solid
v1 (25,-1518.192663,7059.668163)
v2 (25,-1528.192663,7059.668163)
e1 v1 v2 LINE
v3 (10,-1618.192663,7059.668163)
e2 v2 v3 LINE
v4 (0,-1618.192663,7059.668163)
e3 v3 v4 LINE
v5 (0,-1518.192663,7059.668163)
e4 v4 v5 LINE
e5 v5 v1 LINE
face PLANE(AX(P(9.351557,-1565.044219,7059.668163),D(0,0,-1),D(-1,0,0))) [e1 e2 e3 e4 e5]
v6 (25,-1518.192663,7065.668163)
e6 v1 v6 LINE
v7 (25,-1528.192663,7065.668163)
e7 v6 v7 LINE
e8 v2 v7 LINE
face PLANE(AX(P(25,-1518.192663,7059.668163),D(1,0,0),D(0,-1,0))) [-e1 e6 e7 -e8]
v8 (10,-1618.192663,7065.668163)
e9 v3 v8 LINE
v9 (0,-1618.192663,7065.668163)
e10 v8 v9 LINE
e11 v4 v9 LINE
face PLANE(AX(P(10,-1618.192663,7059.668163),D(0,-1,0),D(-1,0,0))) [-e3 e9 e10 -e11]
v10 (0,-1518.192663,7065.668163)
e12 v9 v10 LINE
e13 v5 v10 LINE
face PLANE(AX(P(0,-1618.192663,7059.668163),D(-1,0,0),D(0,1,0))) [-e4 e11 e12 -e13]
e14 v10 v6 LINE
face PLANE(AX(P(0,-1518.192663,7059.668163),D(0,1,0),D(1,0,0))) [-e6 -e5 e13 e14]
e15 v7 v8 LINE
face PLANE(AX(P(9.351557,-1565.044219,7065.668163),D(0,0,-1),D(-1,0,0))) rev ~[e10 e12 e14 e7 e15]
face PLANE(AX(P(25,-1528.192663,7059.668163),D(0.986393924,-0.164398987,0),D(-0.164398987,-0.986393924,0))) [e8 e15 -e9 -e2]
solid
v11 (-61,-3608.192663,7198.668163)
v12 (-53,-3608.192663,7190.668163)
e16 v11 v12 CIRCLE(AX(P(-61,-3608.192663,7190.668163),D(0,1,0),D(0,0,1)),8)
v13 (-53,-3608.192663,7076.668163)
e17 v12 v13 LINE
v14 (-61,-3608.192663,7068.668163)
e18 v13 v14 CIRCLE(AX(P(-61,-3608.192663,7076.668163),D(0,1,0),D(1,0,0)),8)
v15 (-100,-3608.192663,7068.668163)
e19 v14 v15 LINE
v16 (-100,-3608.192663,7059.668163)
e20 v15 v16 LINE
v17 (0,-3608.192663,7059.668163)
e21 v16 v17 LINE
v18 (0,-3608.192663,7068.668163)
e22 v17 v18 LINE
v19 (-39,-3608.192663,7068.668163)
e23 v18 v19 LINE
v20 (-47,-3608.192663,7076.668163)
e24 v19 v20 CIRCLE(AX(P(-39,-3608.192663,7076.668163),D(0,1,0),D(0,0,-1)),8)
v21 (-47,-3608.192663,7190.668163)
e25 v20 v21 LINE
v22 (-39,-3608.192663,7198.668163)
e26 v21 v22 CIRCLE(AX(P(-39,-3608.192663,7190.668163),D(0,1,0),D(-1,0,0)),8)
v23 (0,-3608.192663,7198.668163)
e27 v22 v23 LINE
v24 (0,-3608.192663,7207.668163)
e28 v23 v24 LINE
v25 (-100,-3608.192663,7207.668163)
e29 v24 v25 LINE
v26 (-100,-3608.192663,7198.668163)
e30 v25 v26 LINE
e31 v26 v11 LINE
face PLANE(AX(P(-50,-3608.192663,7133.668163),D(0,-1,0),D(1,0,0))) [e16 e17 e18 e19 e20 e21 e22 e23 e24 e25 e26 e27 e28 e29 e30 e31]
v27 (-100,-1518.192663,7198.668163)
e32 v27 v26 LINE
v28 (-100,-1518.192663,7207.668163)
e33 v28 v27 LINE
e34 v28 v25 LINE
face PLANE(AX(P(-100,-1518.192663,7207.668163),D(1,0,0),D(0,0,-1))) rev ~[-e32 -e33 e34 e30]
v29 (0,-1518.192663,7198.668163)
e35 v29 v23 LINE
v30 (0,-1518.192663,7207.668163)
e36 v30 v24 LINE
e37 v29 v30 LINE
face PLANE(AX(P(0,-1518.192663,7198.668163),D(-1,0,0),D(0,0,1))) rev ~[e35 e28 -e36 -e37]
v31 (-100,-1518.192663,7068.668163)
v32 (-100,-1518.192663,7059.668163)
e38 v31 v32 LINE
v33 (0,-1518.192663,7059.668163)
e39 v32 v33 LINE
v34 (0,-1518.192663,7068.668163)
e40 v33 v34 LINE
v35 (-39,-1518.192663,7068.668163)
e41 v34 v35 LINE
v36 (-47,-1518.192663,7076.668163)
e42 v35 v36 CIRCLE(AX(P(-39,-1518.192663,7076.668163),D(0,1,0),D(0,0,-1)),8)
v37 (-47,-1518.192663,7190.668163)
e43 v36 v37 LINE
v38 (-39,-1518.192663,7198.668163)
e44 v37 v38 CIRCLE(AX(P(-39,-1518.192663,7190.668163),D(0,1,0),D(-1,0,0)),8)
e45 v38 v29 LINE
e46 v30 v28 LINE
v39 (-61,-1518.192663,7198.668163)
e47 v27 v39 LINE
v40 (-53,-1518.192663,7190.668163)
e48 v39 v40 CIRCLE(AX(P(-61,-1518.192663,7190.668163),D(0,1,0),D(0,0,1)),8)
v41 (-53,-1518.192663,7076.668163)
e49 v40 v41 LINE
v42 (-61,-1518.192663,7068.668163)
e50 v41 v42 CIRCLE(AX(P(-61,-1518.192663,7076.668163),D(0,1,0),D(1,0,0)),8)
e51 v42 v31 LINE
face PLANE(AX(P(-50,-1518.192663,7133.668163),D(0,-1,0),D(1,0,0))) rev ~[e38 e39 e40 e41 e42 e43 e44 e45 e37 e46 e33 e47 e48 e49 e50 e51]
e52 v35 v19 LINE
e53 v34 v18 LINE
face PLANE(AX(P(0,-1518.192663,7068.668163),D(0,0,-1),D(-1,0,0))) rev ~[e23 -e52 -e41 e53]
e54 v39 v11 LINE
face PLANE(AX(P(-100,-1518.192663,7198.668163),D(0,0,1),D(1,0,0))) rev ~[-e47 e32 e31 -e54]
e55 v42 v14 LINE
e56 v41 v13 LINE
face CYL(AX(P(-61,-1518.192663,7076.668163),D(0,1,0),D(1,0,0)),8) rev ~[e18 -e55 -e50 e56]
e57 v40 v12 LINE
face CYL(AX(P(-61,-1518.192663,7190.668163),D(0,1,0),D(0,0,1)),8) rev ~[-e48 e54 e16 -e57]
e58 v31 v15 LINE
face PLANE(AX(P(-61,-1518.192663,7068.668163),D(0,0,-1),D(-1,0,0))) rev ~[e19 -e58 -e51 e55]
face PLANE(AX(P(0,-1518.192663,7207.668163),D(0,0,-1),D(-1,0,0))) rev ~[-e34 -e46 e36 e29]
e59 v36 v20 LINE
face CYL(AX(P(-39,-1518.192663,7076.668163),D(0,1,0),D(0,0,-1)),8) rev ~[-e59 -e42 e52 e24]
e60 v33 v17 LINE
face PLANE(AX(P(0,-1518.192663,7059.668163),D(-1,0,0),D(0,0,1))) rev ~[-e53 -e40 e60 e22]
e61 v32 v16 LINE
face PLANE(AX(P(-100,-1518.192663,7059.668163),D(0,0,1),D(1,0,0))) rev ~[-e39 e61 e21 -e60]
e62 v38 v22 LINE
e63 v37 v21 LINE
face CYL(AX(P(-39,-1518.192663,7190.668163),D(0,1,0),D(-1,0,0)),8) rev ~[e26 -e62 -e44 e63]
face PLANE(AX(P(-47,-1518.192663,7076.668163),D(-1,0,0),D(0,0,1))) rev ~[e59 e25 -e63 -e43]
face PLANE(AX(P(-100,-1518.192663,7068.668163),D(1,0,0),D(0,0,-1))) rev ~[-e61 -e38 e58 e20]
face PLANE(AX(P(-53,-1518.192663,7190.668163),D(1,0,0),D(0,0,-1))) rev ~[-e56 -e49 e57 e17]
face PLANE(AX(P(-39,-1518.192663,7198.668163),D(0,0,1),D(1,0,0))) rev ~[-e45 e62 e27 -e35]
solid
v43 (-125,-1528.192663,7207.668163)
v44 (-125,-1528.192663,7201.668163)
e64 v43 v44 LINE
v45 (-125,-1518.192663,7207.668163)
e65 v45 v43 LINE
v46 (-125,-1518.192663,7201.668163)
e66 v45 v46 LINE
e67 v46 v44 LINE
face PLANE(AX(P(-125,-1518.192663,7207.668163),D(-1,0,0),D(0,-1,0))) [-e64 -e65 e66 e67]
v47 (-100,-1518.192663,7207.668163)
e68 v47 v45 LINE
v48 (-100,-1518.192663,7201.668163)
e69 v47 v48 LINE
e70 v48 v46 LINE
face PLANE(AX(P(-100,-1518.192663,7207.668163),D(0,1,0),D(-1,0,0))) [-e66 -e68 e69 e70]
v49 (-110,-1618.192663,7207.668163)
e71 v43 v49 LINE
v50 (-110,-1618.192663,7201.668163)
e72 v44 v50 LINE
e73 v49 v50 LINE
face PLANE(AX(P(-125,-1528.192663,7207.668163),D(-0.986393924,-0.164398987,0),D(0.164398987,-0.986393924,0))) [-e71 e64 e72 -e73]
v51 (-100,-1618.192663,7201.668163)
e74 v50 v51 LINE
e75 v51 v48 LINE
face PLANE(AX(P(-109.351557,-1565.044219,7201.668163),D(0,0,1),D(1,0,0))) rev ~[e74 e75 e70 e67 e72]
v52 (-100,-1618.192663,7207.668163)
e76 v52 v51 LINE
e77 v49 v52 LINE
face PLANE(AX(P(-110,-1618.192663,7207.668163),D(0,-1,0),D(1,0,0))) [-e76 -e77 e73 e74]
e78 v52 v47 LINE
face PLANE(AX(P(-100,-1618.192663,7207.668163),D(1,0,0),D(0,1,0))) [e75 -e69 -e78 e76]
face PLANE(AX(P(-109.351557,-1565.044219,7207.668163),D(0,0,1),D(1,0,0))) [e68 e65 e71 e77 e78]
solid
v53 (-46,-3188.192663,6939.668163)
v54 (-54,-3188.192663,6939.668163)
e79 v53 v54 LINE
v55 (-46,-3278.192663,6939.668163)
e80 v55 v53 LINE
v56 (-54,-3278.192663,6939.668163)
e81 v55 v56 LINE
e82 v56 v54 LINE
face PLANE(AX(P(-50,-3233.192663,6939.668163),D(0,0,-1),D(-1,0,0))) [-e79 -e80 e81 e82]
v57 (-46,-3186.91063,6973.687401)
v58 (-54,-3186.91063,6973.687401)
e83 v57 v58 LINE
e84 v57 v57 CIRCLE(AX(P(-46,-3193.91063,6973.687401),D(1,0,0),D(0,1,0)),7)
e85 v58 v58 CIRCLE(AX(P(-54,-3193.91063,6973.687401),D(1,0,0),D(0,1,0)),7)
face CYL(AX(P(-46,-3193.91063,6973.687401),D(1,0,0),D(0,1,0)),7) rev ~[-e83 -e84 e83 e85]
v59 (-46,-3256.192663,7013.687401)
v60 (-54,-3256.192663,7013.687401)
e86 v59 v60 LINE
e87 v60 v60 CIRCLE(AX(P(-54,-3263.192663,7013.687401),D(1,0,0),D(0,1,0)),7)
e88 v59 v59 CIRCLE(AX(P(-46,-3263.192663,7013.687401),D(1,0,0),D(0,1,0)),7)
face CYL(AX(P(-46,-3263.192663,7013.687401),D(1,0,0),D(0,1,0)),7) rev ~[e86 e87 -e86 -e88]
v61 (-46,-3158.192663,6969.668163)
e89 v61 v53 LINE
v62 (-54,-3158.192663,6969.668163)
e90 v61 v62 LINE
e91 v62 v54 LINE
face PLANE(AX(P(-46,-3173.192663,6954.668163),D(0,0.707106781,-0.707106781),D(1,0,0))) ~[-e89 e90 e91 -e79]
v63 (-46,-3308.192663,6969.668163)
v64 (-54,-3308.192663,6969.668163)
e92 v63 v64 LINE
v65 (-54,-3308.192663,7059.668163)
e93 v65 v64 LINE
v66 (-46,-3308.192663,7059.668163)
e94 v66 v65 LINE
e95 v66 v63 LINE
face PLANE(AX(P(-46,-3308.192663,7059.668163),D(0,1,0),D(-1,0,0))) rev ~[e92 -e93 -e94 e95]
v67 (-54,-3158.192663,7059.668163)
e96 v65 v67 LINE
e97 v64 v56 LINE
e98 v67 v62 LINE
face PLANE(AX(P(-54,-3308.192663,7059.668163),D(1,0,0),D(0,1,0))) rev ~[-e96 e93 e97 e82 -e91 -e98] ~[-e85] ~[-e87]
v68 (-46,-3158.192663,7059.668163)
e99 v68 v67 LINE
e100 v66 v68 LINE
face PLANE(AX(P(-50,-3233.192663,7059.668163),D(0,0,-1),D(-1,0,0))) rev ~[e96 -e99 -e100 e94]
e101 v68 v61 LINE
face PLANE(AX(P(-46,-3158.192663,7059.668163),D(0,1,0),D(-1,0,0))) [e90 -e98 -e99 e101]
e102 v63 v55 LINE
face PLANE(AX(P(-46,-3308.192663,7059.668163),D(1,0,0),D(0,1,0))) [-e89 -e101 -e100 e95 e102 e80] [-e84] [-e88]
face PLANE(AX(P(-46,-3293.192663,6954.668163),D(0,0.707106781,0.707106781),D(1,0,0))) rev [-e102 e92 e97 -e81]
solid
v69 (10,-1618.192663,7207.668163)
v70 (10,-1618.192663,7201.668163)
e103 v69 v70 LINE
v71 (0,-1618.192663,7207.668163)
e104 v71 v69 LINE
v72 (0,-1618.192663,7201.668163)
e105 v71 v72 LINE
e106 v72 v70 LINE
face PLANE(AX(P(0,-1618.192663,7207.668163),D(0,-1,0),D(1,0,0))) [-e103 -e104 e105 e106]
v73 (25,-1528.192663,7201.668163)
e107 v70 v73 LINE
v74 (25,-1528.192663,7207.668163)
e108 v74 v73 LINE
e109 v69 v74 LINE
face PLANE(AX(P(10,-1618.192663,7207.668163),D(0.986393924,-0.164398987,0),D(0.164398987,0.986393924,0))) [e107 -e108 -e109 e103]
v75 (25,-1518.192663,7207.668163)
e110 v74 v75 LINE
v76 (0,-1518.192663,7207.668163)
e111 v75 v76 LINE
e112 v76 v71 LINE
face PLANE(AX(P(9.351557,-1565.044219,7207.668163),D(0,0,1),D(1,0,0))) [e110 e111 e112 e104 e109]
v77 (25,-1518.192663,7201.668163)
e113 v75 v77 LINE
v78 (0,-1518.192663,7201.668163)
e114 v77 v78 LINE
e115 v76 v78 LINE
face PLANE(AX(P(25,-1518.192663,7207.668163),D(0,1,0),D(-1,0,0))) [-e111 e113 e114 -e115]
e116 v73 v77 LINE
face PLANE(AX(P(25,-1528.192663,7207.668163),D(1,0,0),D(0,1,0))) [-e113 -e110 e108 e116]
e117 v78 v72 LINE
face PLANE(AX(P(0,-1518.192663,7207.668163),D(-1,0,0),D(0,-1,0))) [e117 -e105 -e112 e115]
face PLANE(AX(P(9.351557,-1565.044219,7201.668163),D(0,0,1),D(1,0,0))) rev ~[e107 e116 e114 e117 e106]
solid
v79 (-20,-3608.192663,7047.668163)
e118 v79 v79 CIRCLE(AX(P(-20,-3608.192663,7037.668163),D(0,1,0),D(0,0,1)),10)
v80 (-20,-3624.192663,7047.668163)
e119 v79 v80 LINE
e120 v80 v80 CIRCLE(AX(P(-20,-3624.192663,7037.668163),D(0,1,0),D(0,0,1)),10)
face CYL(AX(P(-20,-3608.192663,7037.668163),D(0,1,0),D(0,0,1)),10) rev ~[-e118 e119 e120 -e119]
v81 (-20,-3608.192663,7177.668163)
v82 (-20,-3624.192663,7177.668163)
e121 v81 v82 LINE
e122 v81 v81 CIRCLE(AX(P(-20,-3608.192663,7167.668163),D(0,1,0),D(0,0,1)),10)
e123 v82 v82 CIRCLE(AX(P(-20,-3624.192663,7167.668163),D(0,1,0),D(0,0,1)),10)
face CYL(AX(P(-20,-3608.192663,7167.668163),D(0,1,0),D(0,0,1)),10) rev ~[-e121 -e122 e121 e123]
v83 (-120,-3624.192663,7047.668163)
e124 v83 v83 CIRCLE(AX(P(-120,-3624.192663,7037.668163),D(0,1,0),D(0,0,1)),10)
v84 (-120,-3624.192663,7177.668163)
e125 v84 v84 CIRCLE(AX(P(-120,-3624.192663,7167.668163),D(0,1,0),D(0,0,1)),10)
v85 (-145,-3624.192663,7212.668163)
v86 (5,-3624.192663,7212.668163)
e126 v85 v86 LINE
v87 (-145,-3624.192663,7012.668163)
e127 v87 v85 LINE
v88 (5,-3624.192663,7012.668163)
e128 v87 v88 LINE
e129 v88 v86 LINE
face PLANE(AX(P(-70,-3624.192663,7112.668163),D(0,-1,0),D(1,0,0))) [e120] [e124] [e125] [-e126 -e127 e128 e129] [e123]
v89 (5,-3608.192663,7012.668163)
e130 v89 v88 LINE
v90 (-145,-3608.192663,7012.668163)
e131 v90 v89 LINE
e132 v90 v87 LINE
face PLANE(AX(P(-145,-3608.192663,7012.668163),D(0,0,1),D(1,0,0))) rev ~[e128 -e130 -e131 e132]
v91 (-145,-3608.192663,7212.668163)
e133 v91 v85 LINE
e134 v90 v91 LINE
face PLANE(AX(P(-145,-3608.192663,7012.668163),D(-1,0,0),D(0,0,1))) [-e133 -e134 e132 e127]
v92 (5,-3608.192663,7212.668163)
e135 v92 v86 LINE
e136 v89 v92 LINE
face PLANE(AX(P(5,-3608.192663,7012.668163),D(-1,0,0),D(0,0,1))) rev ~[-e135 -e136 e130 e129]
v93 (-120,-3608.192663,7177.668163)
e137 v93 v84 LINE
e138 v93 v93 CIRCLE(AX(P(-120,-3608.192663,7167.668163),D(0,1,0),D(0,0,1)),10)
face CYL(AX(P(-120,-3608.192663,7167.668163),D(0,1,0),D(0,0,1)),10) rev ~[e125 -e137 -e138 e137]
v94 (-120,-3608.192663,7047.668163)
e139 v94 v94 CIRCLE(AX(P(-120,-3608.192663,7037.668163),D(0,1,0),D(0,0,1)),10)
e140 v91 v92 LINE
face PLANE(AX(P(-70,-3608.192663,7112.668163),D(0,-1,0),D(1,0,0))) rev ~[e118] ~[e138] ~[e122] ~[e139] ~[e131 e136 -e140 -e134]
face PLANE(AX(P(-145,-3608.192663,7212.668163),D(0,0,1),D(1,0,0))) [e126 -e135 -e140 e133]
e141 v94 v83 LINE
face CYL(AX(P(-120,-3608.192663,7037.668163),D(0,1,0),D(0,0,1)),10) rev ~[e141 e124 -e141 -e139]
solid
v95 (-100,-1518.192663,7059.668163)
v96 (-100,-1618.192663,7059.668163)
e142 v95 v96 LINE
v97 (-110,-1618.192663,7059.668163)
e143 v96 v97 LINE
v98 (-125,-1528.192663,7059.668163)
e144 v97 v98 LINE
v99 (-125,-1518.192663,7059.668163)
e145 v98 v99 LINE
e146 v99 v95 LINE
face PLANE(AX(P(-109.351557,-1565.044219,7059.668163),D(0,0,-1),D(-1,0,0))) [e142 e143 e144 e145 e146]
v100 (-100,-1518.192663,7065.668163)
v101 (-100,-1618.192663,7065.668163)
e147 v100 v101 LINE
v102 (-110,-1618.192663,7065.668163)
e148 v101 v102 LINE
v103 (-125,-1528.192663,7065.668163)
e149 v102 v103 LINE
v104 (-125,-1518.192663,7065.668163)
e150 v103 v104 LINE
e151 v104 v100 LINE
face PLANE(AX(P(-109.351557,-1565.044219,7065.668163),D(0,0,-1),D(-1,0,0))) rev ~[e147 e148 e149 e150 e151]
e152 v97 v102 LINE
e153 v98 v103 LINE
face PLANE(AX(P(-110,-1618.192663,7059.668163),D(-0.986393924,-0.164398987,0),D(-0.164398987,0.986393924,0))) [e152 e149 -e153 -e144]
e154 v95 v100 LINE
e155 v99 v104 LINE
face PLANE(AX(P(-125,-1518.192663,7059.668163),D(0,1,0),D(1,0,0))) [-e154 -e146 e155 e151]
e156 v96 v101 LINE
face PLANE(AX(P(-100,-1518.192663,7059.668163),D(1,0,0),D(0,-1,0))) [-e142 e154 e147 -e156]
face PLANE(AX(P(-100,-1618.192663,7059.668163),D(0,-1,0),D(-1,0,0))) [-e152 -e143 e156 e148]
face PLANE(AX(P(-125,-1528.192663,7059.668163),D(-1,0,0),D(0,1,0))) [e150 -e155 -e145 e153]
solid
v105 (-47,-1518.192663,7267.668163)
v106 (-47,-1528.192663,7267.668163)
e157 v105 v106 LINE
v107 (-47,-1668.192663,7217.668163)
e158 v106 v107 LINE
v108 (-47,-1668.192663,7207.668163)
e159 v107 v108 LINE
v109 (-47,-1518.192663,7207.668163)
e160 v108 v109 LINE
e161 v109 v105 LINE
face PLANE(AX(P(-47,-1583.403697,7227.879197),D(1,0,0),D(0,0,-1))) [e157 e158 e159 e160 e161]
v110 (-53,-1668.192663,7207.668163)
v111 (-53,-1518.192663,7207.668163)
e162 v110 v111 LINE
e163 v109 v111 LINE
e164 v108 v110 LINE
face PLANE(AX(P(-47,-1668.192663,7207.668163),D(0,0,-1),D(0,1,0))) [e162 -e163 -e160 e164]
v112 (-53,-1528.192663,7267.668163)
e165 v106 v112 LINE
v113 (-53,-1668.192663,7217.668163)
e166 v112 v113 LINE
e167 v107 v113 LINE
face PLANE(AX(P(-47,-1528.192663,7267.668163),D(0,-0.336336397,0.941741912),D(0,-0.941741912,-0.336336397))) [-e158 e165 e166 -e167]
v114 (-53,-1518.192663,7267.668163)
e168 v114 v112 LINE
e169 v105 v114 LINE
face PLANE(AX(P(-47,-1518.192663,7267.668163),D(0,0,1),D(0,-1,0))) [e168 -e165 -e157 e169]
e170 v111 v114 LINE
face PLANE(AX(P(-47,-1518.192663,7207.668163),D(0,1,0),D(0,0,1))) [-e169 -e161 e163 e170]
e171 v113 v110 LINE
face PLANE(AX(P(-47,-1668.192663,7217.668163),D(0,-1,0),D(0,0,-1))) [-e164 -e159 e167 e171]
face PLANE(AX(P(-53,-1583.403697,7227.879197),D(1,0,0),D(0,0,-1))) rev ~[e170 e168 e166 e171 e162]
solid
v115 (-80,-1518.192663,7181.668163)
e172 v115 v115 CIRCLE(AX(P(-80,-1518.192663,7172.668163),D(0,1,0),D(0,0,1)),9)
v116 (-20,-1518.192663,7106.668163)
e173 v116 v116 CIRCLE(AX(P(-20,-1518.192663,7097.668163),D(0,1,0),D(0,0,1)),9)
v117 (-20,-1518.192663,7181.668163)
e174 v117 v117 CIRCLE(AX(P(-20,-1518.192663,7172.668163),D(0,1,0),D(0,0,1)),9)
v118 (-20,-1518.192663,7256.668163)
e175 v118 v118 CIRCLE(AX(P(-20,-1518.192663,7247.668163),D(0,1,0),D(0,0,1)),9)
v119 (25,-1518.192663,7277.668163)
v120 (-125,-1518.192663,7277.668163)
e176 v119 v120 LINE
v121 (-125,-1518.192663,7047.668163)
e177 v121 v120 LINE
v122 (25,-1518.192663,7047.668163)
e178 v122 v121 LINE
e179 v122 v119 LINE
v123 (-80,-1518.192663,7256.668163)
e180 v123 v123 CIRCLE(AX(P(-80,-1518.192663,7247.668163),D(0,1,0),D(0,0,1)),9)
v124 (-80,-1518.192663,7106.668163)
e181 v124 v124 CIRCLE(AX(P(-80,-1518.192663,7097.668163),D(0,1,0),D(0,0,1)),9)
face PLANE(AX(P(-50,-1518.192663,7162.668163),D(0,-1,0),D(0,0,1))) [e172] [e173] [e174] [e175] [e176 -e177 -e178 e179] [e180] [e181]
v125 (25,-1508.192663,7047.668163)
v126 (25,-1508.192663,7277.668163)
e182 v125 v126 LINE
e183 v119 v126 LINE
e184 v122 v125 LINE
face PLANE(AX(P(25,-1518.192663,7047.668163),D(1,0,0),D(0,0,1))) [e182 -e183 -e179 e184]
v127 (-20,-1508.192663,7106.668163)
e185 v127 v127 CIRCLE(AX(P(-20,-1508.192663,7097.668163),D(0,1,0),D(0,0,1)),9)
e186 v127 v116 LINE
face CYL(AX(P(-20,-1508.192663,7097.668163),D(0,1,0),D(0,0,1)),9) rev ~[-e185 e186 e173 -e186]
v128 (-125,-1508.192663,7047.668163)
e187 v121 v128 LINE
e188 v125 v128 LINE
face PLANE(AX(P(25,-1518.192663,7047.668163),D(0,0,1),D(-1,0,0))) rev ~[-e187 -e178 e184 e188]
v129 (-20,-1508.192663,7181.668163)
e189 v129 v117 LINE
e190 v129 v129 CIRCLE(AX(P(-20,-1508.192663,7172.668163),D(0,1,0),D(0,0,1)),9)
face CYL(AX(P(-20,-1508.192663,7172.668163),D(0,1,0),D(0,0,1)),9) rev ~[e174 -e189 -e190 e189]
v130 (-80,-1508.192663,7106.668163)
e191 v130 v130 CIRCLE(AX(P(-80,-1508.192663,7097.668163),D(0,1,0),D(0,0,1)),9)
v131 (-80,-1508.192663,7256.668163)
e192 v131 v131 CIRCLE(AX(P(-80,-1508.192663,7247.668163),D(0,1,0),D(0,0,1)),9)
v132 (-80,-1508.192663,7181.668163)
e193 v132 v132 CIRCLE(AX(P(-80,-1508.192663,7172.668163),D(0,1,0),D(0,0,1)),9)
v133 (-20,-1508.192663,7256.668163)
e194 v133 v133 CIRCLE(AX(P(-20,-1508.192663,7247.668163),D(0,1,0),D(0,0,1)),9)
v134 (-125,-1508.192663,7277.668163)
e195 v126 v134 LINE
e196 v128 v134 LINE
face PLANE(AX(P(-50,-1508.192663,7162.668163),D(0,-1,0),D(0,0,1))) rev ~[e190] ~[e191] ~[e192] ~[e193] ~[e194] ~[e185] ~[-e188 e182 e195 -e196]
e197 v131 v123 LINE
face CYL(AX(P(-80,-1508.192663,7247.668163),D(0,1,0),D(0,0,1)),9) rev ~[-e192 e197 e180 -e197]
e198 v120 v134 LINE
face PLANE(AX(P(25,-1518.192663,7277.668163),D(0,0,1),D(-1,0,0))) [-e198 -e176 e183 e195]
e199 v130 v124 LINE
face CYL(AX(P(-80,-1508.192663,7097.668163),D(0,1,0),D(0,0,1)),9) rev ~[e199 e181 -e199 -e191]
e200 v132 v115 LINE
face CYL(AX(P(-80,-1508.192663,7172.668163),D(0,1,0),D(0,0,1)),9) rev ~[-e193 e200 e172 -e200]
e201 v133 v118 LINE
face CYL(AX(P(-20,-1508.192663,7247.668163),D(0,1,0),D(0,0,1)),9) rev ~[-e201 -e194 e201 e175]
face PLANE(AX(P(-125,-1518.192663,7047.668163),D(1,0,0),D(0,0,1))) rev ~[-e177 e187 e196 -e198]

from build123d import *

# Parameters (mm, degrees)
H_HM150_100_1_DEPTH = 2090
SKETCH_12_W         = 150
SKETCH_12_H         = 200
EXTRUDE_1_DEPTH     = 16
SKETCH_13_W         = 230
SKETCH_13_H         = 150
EXTRUDE_2_DEPTH     = 10
SKETCH_15_R         = 9
CUT_EXTRUDE_2_DEPTH = 10
EXTRUDE_3_DEPTH     = 6
EXTRUDE_3_2_DEPTH   = 6
EXTRUDE_4_DEPTH     = 6
EXTRUDE_4_2_DEPTH   = 6
EXTRUDE_5_DEPTH     = 6
SKETCH_19_W         = 8
SKETCH_19_H         = 150
EXTRUDE_6_DEPTH     = 120
SKETCH_23_R         = 10
CUT_EXTRUDE_5_DEPTH = 16
CHAMFER_1_SIZE      = 30
SKETCH_20_R         = 7
CUT_EXTRUDE_3_DEPTH = 120


with BuildPart() as part:
    # 草图11 → H型钢 HM150×100(1) (new body)
    with BuildSketch(Plane(origin=(-50, -1518.192662688, 7133.668163116), x_dir=(1, 0, 0), z_dir=(0, -1, 0))):
        with BuildLine():
            Line((-50, -74), (50, -74))
            Line((50, -74), (50, -65))
            Line((50, -65), (11, -65))
            ThreePointArc((11, -65), (5.343145751, -62.656854249), (3, -57))
            Line((3, -57), (3, 57))
            ThreePointArc((3, 57), (5.343145751, 62.656854249), (11, 65))
            Line((11, 65), (50, 65))
            Line((50, 65), (50, 74))
            Line((50, 74), (-50, 74))
            Line((-50, 74), (-50, 65))
            Line((-50, 65), (-11, 65))
            ThreePointArc((-11, 65), (-5.343145751, 62.656854249), (-3, 57))
            Line((-3, 57), (-3, -57))
            ThreePointArc((-3, -57), (-5.343145751, -62.656854249), (-11, -65))
            Line((-11, -65), (-50, -65))
            Line((-50, -65), (-50, -74))
        make_face()
    extrude(amount=H_HM150_100_1_DEPTH)


with BuildPart() as body_2:
    # 草图12 → 凸台-拉伸1 (new body)
    with BuildSketch(Plane.XZ.offset(3608.192662688)):
        with Locations((-70, 7112.668163116)):
            Rectangle(SKETCH_12_W, SKETCH_12_H)
    extrude(amount=EXTRUDE_1_DEPTH)

    # 草图23 → 切除-拉伸5 (cut)
    with BuildSketch(Plane(origin=(0, -3608.192662688, 0), x_dir=(1, 0, 0), z_dir=(0, 1, 0))):
        with Locations(Location((-120, -7037.668163116, 0), (0, 0, 270))):
            Circle(SKETCH_23_R)
        with Locations(Location((-120, -7167.668163116, 0), (0, 0, 270))):
            Circle(SKETCH_23_R)
        with Locations(Location((-20, -7037.668163116, 0), (0, 0, 270))):
            Circle(SKETCH_23_R)
        with Locations(Location((-20, -7167.668163116, 0), (0, 0, 270))):
            Circle(SKETCH_23_R)
    extrude(amount=-CUT_EXTRUDE_5_DEPTH, mode=Mode.SUBTRACT)


with BuildPart() as body_3:
    # 草图13 → 凸台-拉伸2 (new body)
    with BuildSketch(Plane(origin=(-1618.192662688, -1518.192662688, 0), x_dir=(0, 0, 1), z_dir=(0, -1, 0))):
        with Locations((7162.668163116, -1568.192662688)):
            Rectangle(SKETCH_13_W, SKETCH_13_H)
    extrude(amount=-EXTRUDE_2_DEPTH)

    # 草图15 → 切除-拉伸2 (cut)
    with BuildSketch(Plane(origin=(1383.192662688, -1508.192662688, 0), x_dir=(1, 0, 0), z_dir=(0, 1, 0))):
        with Locations(Location((-1403.192662688, -7247.668163116, 0), (0, 0, 270))):
            Circle(SKETCH_15_R)
        with Locations(Location((-1463.192662688, -7247.668163116, 0), (0, 0, 270))):
            Circle(SKETCH_15_R)
        with Locations(Location((-1463.192662688, -7172.668163116, 0), (0, 0, 270))):
            Circle(SKETCH_15_R)
        with Locations(Location((-1403.192662688, -7172.668163116, 0), (0, 0, 270))):
            Circle(SKETCH_15_R)
        with Locations(Location((-1403.192662688, -7097.668163116, 0), (0, 0, 270))):
            Circle(SKETCH_15_R)
        with Locations(Location((-1463.192662688, -7097.668163116, 0), (0, 0, 270))):
            Circle(SKETCH_15_R)
    extrude(amount=-CUT_EXTRUDE_2_DEPTH, mode=Mode.SUBTRACT)


with BuildPart() as body_4:
    # 草图16 → 凸台-拉伸3 (new body)
    with BuildSketch(Plane.XY.offset(7207.668163116)):
        Polygon((-125, -1518.192662688), (-125, -1528.192662688), (-110, -1618.192662688), (-100, -1618.192662688), (-100, -1518.192662688), align=None)
    extrude(amount=-EXTRUDE_3_DEPTH)


with BuildPart() as body_5:
    # 草图16 → Extrude 3 2 (new body)
    with BuildSketch(Plane.XY.offset(7207.668163116)):
        Polygon((25, -1518.192662688), (0, -1518.192662688), (0, -1618.192662688), (10, -1618.192662688), (25, -1528.192662688), align=None)
    extrude(amount=-EXTRUDE_3_2_DEPTH)


with BuildPart() as body_6:
    # 草图17 → 凸台-拉伸4 (new body)
    with BuildSketch(Plane(origin=(0, 0, 7059.668163116), x_dir=(-1, 0, 0), z_dir=(0, 0, -1))):
        Polygon((-25, -1518.192662688), (-25, -1528.192662688), (-10, -1618.192662688), (0, -1618.192662688), (0, -1518.192662688), align=None)
    extrude(amount=-EXTRUDE_4_DEPTH)


with BuildPart() as body_7:
    # 草图17 → Extrude 4 2 (new body)
    with BuildSketch(Plane(origin=(0, 0, 7059.668163116), x_dir=(-1, 0, 0), z_dir=(0, 0, -1))):
        Polygon((125, -1518.192662688), (100, -1518.192662688), (100, -1618.192662688), (110, -1618.192662688), (125, -1528.192662688), align=None)
    extrude(amount=-EXTRUDE_4_2_DEPTH)


with BuildPart() as body_8:
    # 草图18 → 凸台-拉伸5 (new body)
    with BuildSketch(Plane(origin=(-47, 0, 0), x_dir=(0, 0, -1), z_dir=(1, 0, 0))):
        Polygon((-7207.668163116, -1518.192662688), (-7267.668163116, -1518.192662688), (-7267.668163116, -1528.192662688), (-7217.668163116, -1668.192662688), (-7207.668163116, -1668.192662688), align=None)
    extrude(amount=-EXTRUDE_5_DEPTH)


with BuildPart() as body_9:
    # 草图19 → 凸台-拉伸6 (new body)
    with BuildSketch(Plane(origin=(0, 0, 7059.668163116), x_dir=(-1, 0, 0), z_dir=(0, 0, -1))):
        with Locations((50, -3233.192662688)):
            Rectangle(SKETCH_19_W, SKETCH_19_H)
    extrude(amount=EXTRUDE_6_DEPTH)

    # 倒角1
    chamfer_1_edges = [body_9.edges().sort_by_distance(p)[0] for p in [
        (-50, -3158.192662688, 6939.668163116),
        (-50, -3308.192662688, 6939.668163116),
    ]]
    chamfer(chamfer_1_edges, length=CHAMFER_1_SIZE)

    # 草图20 → 切除-拉伸3 (cut)
    with BuildSketch(Plane(origin=(-46, 0, 0), x_dir=(0, 0, -1), z_dir=(1, 0, 0))):
        with Locations(Location((-7013.687401002, -3263.192662688, 0), (0, 0, 90))):
            Circle(SKETCH_20_R)
        with Locations(Location((-6973.687401002, -3193.910630386, 0), (0, 0, 90))):
            Circle(SKETCH_20_R)
    extrude(amount=-CUT_EXTRUDE_3_DEPTH, mode=Mode.SUBTRACT)


solid = Compound([part.part, body_2.part, body_3.part, body_4.part, body_5.part, body_6.part, body_7.part, body_8.part, body_9.part])
